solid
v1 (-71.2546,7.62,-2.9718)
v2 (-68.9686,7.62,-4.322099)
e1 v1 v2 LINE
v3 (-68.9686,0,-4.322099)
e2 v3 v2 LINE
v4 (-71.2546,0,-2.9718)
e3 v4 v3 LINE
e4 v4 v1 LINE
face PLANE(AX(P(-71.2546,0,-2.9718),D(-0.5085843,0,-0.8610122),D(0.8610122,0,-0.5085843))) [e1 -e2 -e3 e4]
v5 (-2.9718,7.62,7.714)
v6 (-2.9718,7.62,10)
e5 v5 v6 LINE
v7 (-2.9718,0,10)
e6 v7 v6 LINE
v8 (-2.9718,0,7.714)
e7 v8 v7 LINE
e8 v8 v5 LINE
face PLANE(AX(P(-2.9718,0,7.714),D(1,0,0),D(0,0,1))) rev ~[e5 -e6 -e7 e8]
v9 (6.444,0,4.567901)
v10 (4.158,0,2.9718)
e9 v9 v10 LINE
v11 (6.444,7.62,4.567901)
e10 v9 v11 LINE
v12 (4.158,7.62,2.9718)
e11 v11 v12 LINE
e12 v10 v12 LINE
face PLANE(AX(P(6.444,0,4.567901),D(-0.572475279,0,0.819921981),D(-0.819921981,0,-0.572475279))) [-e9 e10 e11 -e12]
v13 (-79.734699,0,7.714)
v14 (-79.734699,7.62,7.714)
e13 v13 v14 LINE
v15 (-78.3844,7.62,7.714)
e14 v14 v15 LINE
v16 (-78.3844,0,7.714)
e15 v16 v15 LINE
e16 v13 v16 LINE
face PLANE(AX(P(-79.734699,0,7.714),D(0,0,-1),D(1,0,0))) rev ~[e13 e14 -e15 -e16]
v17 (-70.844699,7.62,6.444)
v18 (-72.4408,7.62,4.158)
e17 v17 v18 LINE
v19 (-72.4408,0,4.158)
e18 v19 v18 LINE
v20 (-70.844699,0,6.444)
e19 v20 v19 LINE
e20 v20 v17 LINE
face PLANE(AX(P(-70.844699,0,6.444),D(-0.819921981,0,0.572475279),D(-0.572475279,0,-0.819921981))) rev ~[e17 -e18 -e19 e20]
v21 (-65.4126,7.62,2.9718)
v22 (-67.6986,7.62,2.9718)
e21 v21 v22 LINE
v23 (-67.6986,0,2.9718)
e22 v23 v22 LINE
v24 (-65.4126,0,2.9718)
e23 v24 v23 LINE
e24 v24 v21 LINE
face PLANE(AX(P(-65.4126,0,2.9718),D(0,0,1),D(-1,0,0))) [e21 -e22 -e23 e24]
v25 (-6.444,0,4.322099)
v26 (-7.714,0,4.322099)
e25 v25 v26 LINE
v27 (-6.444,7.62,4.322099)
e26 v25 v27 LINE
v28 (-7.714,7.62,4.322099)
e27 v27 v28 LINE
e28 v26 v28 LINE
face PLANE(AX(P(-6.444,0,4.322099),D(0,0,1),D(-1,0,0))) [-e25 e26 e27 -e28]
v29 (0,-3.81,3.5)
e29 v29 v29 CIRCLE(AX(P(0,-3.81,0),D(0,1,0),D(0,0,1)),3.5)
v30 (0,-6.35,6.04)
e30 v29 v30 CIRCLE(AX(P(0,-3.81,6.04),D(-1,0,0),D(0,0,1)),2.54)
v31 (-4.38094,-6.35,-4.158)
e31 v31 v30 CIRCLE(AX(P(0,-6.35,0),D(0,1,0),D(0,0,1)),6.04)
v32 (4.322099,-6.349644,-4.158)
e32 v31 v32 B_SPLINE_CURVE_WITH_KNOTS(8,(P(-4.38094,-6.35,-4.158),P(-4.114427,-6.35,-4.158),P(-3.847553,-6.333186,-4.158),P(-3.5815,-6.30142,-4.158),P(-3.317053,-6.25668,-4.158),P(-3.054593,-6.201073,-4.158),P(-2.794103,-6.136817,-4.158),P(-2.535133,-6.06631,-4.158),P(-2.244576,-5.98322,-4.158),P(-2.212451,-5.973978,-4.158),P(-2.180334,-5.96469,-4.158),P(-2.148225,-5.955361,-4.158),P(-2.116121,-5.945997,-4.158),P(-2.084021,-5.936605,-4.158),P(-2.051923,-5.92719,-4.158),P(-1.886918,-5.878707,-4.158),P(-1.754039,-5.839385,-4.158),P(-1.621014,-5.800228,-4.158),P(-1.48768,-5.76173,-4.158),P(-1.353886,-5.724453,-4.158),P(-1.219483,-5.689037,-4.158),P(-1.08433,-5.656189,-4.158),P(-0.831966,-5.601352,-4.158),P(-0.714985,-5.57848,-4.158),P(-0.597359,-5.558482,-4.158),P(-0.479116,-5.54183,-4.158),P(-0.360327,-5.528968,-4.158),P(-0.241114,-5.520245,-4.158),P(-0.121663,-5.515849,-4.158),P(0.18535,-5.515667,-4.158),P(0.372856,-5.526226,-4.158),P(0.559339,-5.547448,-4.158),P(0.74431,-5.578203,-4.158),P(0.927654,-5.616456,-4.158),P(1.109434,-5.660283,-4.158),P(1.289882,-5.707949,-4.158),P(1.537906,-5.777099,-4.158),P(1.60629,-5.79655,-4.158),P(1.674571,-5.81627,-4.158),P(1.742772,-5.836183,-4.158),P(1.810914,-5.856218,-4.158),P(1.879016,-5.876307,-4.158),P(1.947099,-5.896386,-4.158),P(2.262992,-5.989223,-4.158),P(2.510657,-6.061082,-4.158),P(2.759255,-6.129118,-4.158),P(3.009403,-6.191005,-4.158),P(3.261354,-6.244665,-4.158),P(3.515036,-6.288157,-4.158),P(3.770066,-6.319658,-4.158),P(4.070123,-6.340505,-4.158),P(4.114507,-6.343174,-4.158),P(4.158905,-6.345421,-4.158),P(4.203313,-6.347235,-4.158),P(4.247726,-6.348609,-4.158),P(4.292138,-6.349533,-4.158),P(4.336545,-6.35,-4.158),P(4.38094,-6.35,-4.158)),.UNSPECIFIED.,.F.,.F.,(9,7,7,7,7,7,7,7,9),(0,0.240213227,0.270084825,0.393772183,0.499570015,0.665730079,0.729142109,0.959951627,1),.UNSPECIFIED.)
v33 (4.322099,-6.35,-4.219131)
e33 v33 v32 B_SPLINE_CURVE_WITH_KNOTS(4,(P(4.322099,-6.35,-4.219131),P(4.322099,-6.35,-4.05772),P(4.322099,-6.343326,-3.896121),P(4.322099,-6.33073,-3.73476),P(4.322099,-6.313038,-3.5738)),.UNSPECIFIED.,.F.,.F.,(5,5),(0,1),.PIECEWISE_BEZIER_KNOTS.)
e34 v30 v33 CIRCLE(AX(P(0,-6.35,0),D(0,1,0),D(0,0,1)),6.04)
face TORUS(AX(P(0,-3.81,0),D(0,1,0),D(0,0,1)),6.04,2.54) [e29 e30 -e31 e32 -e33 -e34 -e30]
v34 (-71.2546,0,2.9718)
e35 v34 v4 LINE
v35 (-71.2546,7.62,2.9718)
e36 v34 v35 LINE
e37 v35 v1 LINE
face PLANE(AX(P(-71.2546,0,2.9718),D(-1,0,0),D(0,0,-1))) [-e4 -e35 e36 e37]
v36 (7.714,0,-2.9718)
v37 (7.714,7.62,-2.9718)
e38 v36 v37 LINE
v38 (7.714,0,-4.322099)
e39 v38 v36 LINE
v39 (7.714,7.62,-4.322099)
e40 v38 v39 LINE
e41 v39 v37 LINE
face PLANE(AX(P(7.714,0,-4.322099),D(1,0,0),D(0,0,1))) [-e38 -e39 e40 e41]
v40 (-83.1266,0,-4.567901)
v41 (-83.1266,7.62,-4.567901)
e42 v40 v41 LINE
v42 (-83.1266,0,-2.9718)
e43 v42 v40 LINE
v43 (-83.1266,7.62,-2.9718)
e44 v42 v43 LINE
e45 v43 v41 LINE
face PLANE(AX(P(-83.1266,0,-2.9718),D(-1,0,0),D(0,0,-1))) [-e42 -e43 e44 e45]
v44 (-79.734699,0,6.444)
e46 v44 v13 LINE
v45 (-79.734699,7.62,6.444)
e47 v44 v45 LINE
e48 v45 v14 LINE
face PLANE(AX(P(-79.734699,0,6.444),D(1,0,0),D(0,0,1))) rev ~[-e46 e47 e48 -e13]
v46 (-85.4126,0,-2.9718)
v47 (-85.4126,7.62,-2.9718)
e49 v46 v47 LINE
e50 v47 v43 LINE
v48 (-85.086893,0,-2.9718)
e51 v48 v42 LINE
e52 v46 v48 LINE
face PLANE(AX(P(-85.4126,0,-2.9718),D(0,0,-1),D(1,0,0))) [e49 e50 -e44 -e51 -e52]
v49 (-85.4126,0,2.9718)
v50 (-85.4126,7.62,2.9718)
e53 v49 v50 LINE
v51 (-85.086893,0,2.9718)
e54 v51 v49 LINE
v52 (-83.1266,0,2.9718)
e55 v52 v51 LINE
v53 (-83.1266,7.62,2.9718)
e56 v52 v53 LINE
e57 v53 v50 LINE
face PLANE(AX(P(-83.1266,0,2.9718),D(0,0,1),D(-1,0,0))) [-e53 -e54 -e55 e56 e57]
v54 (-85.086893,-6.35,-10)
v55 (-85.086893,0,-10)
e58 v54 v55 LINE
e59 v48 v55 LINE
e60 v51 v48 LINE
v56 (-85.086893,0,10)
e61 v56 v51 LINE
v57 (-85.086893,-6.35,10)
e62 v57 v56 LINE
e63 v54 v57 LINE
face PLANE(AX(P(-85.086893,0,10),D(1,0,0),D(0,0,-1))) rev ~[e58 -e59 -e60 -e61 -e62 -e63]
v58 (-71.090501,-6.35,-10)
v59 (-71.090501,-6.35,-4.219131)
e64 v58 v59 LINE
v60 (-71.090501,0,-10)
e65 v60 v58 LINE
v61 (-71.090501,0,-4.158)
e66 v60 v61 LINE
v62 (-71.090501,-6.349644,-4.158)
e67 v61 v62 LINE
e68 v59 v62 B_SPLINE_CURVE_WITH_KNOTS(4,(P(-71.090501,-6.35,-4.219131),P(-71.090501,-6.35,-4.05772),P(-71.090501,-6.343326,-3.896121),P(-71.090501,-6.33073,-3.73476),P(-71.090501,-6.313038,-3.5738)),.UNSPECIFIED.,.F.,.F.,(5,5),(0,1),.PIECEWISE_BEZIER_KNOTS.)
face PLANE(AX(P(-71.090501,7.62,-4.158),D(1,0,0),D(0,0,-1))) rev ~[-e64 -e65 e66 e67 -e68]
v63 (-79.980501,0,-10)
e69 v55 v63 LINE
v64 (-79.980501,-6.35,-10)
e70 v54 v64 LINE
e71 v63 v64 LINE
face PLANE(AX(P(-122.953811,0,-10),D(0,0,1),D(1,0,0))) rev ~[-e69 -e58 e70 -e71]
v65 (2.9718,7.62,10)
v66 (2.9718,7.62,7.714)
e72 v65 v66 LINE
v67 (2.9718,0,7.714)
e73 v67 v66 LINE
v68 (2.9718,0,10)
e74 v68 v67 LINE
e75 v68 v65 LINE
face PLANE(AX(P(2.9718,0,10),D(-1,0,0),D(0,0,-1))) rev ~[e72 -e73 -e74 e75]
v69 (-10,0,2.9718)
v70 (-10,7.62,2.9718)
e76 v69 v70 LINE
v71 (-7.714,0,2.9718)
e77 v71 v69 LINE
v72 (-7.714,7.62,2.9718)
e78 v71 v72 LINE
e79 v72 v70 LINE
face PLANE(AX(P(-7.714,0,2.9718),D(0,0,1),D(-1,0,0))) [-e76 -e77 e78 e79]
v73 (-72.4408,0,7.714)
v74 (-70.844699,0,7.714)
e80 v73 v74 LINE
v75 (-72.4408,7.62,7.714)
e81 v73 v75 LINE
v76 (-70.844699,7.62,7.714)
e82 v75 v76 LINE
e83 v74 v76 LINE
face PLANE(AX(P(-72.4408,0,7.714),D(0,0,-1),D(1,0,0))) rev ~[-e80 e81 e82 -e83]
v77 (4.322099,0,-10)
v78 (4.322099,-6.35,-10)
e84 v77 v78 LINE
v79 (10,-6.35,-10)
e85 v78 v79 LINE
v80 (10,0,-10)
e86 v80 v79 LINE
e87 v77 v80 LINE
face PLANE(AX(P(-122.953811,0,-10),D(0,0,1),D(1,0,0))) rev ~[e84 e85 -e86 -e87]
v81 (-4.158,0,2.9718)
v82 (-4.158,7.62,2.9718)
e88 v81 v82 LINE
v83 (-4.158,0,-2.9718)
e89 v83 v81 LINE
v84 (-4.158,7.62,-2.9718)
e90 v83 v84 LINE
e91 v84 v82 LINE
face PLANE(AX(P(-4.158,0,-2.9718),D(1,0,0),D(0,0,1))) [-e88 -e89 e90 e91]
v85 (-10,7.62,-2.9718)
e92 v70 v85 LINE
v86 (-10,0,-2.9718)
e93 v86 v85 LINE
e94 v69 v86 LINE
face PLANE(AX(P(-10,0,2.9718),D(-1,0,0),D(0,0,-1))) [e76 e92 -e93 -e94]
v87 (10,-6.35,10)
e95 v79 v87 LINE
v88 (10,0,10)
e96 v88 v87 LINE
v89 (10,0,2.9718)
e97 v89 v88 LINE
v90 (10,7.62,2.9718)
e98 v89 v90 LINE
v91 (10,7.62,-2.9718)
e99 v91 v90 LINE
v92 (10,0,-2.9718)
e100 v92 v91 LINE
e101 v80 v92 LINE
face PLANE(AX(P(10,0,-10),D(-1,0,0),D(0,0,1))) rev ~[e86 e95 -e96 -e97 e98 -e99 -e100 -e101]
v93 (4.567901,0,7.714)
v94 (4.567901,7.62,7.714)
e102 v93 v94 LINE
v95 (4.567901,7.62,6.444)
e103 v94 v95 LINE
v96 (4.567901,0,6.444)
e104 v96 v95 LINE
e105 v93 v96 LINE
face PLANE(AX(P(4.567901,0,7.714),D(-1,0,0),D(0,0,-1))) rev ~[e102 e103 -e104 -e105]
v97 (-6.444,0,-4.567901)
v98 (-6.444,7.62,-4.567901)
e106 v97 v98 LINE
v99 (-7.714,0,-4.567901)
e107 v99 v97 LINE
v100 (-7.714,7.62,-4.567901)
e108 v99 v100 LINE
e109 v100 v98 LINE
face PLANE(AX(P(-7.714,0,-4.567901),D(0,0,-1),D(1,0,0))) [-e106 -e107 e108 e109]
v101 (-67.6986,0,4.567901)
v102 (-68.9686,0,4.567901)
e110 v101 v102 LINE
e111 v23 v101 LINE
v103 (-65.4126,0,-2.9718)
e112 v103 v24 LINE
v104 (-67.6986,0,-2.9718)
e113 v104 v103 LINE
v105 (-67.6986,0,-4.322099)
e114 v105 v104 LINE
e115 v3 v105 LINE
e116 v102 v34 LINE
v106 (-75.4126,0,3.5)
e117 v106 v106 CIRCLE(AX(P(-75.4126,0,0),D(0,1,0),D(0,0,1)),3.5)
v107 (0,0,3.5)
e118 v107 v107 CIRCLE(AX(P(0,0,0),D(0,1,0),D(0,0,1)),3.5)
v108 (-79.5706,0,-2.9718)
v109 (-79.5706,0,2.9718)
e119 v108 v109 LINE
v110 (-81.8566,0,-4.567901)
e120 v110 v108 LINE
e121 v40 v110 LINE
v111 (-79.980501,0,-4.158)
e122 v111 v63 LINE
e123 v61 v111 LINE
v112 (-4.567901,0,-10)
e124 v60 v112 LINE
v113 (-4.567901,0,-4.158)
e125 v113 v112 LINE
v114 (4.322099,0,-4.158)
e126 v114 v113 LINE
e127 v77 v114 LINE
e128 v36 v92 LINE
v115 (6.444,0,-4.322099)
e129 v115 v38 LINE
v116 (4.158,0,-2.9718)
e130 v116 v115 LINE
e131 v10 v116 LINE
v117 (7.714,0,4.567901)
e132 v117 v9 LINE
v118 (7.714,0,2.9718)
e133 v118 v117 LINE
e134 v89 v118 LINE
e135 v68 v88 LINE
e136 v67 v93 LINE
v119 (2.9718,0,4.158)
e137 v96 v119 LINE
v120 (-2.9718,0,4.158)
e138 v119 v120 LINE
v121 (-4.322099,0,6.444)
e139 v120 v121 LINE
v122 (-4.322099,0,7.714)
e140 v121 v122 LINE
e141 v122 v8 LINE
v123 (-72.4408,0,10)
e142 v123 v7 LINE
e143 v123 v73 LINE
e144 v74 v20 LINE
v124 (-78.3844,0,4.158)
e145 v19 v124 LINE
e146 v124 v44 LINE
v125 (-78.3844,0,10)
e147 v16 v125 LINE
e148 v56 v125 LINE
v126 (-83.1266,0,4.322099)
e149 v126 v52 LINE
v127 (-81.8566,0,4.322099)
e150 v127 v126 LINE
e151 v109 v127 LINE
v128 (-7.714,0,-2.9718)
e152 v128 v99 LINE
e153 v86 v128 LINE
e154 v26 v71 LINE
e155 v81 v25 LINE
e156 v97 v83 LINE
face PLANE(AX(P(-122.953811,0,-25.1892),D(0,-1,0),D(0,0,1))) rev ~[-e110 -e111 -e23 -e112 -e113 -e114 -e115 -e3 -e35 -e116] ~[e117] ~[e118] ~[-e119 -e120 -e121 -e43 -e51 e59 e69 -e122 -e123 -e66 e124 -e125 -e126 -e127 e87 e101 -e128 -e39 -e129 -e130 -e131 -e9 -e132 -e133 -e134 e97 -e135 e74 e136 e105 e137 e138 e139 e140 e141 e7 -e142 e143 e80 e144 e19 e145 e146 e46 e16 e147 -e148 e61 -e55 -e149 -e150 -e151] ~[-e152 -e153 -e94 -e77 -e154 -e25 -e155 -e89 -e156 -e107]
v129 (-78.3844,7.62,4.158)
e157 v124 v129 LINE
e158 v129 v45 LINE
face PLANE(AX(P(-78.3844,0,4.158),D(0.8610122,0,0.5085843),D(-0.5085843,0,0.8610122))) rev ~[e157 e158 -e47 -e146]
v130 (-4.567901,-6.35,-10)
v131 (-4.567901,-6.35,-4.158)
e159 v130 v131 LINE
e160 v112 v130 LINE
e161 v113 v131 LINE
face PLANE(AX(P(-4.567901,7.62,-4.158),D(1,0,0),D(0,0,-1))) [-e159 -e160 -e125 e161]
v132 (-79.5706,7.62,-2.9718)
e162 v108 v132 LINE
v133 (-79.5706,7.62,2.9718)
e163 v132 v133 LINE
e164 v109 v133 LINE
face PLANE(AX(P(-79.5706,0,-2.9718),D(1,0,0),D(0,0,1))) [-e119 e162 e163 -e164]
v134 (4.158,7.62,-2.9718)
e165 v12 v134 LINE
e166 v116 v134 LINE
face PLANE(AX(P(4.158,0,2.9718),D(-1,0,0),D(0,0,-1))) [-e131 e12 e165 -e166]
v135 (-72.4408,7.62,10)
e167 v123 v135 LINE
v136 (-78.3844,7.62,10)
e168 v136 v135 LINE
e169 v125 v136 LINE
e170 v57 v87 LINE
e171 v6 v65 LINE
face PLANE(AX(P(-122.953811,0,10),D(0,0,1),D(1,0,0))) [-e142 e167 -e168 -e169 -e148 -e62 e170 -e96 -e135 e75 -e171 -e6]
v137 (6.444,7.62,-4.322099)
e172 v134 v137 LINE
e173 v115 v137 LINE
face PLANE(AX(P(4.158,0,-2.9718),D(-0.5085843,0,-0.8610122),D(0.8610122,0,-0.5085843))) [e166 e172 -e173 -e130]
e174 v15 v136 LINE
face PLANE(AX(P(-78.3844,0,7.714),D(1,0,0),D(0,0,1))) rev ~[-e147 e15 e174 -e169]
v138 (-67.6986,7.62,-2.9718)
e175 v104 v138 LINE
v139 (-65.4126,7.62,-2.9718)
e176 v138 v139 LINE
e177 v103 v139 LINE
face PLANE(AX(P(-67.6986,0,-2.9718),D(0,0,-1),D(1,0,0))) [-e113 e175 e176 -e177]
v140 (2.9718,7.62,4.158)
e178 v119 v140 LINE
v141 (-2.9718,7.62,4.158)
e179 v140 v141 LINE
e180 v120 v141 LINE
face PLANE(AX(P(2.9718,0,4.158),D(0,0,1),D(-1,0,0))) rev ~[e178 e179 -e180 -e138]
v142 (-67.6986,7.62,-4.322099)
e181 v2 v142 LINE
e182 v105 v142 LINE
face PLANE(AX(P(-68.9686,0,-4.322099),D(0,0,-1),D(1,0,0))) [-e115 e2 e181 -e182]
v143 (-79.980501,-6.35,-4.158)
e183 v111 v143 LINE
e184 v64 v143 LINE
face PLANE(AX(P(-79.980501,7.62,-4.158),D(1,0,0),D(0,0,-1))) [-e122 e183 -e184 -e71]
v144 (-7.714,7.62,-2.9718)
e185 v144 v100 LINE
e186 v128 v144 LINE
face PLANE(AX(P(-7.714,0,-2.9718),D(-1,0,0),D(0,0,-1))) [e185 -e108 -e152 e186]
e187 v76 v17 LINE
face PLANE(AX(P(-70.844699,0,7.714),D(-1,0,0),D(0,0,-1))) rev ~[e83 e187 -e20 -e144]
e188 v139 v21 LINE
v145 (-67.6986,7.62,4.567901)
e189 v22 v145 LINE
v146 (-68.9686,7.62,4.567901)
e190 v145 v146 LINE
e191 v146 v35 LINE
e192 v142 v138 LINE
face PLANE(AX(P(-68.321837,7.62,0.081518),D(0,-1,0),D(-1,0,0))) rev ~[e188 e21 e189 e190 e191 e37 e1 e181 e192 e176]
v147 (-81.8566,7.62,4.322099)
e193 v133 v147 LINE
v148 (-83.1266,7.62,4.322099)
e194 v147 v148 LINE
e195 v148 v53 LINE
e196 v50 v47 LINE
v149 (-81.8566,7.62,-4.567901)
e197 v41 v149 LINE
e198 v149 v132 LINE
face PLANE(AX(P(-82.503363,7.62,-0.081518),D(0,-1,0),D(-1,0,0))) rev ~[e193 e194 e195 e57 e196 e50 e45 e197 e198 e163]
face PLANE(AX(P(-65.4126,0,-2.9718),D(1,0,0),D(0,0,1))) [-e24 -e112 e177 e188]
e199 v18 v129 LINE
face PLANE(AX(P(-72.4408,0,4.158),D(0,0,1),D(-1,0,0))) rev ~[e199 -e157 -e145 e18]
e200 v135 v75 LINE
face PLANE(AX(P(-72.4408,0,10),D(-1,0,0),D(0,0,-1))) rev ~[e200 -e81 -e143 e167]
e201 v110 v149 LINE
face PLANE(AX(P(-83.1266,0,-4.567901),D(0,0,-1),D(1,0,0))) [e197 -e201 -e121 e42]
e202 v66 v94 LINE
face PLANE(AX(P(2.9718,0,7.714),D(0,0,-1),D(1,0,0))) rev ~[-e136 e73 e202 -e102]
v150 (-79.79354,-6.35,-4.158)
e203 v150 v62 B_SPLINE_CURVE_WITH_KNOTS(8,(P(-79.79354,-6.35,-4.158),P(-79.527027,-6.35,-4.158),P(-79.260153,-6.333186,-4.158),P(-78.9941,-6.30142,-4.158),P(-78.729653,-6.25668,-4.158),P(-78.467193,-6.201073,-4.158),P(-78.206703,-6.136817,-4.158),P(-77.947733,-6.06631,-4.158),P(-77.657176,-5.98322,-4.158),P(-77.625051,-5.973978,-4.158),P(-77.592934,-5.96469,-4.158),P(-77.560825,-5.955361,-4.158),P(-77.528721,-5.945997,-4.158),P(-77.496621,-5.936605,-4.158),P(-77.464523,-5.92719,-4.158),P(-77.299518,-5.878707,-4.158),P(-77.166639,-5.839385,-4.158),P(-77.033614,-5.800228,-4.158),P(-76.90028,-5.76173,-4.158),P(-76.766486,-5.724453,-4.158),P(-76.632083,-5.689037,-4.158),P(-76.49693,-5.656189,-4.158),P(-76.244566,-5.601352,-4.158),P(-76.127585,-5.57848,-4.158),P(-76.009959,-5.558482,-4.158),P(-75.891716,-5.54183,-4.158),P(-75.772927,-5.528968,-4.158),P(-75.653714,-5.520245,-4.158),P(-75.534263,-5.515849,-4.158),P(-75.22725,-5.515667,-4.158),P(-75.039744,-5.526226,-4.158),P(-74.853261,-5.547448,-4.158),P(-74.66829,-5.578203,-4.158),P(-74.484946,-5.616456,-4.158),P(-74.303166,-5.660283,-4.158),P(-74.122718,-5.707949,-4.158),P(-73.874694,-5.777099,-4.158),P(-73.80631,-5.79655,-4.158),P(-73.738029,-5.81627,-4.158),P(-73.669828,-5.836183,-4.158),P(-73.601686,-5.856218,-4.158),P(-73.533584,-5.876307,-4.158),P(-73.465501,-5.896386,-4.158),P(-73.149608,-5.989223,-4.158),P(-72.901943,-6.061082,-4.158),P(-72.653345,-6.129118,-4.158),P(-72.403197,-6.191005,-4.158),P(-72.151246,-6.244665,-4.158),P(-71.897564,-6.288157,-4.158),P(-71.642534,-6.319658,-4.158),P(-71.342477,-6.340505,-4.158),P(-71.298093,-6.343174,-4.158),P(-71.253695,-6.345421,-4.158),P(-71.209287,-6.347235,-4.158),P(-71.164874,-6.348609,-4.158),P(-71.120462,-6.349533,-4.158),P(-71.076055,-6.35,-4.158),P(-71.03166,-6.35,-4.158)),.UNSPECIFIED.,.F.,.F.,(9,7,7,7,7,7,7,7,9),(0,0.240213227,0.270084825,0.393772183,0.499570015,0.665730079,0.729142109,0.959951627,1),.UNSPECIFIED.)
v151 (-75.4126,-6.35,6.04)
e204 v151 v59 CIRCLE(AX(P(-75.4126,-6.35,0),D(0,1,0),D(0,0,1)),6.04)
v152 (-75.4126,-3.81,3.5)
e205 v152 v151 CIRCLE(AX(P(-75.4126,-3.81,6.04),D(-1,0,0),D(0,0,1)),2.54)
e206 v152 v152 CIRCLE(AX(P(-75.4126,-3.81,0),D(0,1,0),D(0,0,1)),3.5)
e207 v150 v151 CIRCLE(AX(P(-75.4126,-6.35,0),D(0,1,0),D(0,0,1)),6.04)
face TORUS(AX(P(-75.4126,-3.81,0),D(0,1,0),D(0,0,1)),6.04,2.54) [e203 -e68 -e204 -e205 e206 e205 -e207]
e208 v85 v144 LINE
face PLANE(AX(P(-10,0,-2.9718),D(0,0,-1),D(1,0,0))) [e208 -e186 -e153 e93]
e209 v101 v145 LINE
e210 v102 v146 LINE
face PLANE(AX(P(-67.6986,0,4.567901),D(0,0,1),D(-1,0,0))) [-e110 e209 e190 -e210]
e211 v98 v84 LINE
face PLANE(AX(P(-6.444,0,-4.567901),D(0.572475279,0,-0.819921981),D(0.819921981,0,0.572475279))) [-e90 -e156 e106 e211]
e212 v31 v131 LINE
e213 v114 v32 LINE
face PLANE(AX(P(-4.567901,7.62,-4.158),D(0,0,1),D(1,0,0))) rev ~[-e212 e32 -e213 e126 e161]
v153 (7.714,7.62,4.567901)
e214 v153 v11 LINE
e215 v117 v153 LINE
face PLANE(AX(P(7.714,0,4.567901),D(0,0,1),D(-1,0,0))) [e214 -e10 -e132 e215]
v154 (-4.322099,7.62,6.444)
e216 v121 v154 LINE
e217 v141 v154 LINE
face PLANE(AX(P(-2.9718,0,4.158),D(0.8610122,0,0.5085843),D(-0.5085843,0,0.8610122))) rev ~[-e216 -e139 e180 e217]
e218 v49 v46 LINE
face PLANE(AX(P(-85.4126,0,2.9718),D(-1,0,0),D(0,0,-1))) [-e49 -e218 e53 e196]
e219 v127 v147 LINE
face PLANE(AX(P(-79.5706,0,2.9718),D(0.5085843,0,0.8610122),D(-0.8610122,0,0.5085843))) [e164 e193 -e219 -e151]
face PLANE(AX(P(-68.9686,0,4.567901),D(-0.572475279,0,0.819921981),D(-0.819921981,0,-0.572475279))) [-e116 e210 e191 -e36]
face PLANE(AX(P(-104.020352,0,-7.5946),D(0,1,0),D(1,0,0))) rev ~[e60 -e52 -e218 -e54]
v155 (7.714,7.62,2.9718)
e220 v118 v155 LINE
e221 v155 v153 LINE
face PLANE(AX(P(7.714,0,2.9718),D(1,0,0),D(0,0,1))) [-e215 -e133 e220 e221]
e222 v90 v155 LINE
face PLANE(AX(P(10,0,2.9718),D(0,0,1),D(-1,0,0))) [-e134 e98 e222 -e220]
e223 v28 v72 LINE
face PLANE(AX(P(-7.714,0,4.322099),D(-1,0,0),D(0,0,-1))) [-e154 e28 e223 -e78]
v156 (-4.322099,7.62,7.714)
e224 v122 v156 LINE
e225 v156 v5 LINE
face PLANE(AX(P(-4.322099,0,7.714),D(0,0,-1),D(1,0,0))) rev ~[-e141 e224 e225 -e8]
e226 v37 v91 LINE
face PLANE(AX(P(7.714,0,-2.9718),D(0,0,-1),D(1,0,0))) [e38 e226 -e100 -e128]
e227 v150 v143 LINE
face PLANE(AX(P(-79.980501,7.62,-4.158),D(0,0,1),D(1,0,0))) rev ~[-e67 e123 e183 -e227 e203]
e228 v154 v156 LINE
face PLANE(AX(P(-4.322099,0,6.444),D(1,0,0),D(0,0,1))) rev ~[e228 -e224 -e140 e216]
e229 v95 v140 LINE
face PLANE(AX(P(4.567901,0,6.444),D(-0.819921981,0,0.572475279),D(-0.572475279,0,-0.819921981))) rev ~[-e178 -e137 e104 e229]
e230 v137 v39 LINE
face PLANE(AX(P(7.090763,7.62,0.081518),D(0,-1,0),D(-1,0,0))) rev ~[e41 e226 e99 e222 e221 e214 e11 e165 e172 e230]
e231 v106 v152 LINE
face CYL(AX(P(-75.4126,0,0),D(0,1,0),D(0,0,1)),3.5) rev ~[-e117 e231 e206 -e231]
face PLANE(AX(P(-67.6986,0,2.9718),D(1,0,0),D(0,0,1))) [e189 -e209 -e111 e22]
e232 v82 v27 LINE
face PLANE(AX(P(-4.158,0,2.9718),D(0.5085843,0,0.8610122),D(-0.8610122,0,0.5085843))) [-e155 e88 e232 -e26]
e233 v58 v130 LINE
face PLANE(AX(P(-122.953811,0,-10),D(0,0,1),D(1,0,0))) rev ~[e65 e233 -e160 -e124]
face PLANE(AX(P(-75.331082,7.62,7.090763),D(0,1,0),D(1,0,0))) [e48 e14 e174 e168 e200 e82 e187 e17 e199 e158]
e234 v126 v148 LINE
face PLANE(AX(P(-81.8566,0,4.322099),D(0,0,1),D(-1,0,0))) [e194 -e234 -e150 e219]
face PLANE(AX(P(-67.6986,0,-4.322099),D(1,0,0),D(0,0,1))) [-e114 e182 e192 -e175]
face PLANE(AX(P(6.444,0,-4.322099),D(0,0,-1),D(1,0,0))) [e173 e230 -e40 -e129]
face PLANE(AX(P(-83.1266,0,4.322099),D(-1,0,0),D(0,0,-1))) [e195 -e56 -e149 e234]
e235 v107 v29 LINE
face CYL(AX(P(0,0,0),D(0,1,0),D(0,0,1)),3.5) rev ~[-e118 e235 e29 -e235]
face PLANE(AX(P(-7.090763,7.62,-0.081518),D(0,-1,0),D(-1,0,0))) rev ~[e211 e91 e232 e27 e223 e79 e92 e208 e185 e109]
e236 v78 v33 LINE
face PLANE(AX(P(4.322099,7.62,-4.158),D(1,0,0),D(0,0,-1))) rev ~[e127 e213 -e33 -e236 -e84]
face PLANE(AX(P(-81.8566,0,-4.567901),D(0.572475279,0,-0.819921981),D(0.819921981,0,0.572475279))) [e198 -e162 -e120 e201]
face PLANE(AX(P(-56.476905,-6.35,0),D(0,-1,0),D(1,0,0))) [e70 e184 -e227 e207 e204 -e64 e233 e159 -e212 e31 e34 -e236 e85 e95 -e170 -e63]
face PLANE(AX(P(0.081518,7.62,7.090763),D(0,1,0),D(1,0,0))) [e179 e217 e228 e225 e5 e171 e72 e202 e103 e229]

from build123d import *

# Parameters (mm, degrees)
BOSS_EXTRUDE1_DEPTH   = 7.62
BOSS_EXTRUDE1_2_DEPTH = 7.62
BOSS_EXTRUDE1_3_DEPTH = 7.62
BOSS_EXTRUDE1_4_DEPTH = 7.62
SKETCH2_W             = 132.9538108
SKETCH2_H             = 20
BOSS_EXTRUDE2_DEPTH   = 6.35
LPATTERN2_COUNT       = 2
LPATTERN2_PITCH       = 75.4126
CUT_EXTRUDE1_DEPTH    = 125.148300392
FILLET1_R             = 2.54
SKETCH13_R            = 3.5
CUT_EXTRUDE5_DEPTH    = 124.59491895
FILLET6_R             = 2.54
SKETCH14_W            = 8.89
SKETCH14_H            = 5.842
CUT_EXTRUDE6_DEPTH    = 125.148300392
SKETCH15_W            = 25.4
SKETCH15_H            = 40.894
BOSS_EXTRUDE3_DEPTH   = 12.7
FILLET15_R            = 10.16
FILLET16_R            = 10.16
FILLET17_R            = 10.16
FILLET18_R            = 10.16
SKETCH18_R            = 1.984375
CUT_EXTRUDE9_DEPTH    = 12.7
SKETCH19_W            = 37.866917971
SKETCH19_H            = 35.1892
CUT_EXTRUDE10_DEPTH   = 133.001722138


with BuildPart() as part:
    # Sketch1 → Boss-Extrude1 (new body)
    with BuildSketch(Plane(origin=(0, 0, 0), x_dir=(1, 0, 0), z_dir=(0, 1, 0))):
        Polygon((2.9718, 10), (-2.9718, 10), (-2.9718, 7.714), (-4.567901235, 7.714), (-4.567901235, 6.444), (-2.9718, 4.158), (2.9718, 4.158), (4.322098765, 6.444), (4.322098765, 7.714), (2.9718, 7.714), align=None)
    boss_extrude1 = extrude(amount=BOSS_EXTRUDE1_DEPTH)



with BuildPart() as body_2:
    # Sketch1 → Boss-Extrude1 2 (new body)
    with BuildSketch(Plane(origin=(0, 0, 0), x_dir=(1, 0, 0), z_dir=(0, 1, 0))):
        Polygon((4.158, -2.9718), (4.158, 2.9718), (6.444, 4.322098765), (7.714, 4.322098765), (7.714, 2.9718), (10, 2.9718), (10, -2.9718), (7.714, -2.9718), (7.714, -4.567901235), (6.444, -4.567901235), align=None)
    boss_extrude1_2 = extrude(amount=BOSS_EXTRUDE1_2_DEPTH)


with BuildPart() as body_3:
    # Sketch1 → Boss-Extrude1 3 (new body)
    with BuildSketch(Plane(origin=(0, 0, 0), x_dir=(1, 0, 0), z_dir=(0, 1, 0))):
        Polygon((-10, -2.9718), (-10, 2.9718), (-7.714, 2.9718), (-7.714, 4.567901235), (-6.444, 4.567901235), (-4.158, 2.9718), (-4.158, -2.9718), (-6.444, -4.322098765), (-7.714, -4.322098765), (-7.714, -2.9718), align=None)
    boss_extrude1_3 = extrude(amount=BOSS_EXTRUDE1_3_DEPTH)


with BuildPart() as body_4:
    # Sketch1 → Boss-Extrude1 4 (new body)
    with BuildSketch(Plane(origin=(0, 0, 0), x_dir=(1, 0, 0), z_dir=(0, 1, 0))):
        Polygon((4.567901235, -6.444), (2.9718, -4.158), (-2.9718, -4.158), (-4.322098765, -6.444), (-4.322098765, -7.714), (-2.9718, -7.714), (-2.9718, -10), (2.9718, -10), (2.9718, -7.714), (4.567901235, -7.714), align=None)
    boss_extrude1_4 = extrude(amount=BOSS_EXTRUDE1_4_DEPTH)


with BuildPart() as part_1:
    add(part.part)

    add(body_2.part)  # Boss-Extrude2 merges body 2

    add(body_3.part)  # Boss-Extrude2 merges body 3

    add(body_4.part)  # Boss-Extrude2 merges body 4
    # Sketch2 → Boss-Extrude2 (add)
    with BuildSketch(Plane.XZ):
        with Locations((-56.4769054, 0)):
            Rectangle(SKETCH2_W, SKETCH2_H)
    extrude(amount=BOSS_EXTRUDE2_DEPTH)

    # LPattern2: Boss-Extrude1, Boss-Extrude1 2, Boss-Extrude1 3, Boss-Extrude1 4 ×2
    with Locations(*[(-i * LPATTERN2_PITCH, 0, 0) for i in range(1, LPATTERN2_COUNT)]):
        add(boss_extrude1)
        add(boss_extrude1_2)
        add(boss_extrude1_3)
        add(boss_extrude1_4)

    # Sketch4 → Cut-Extrude1 (cut, through all)
    with BuildSketch(Plane(origin=(0, -6.35, 0), x_dir=(-1, 0, 0), z_dir=(0, -1, 0))):
        Polygon((122.9538108, -10), (85.4126108, -10), (122.9538108, -0.2108), align=None)
    extrude(amount=-CUT_EXTRUDE1_DEPTH, mode=Mode.SUBTRACT)

    # Fillet1
    fillet1_edges = [part_1.edges().sort_by_distance(p)[0] for p in [
        (-85.4126108, -3.175, 10),
    ]]
    fillet(fillet1_edges, radius=FILLET1_R)

    # Sketch13 → Cut-Extrude5 (cut, through all)
    with BuildSketch(Plane(origin=(0, 0, 0), x_dir=(1, 0, 0), z_dir=(0, 1, 0))):
        with Locations(Location((0, 0, 0), (0, 0, 270))):
            Circle(SKETCH13_R)
        with Locations(Location((-75.4126, 0, 0), (0, 0, 270))):
            Circle(SKETCH13_R)
    extrude(amount=-CUT_EXTRUDE5_DEPTH, mode=Mode.SUBTRACT)

    # Fillet6
    fillet6_edges = [part_1.edges().sort_by_distance(p)[0] for p in [
        (0, -6.35, -3.5),
        (-75.4126, -6.35, -3.5),
    ]]
    fillet(fillet6_edges, radius=FILLET6_R)

    # Sketch14 → Cut-Extrude6 (cut, through all)
    with BuildSketch(Plane(origin=(0, 7.62, 0), x_dir=(1, 0, 0), z_dir=(0, 1, 0))):
        with Locations((-0.122901235, 7.079)):
            Rectangle(SKETCH14_W, SKETCH14_H)
        with Locations((-75.535501235, 7.079)):
            Rectangle(SKETCH14_W, SKETCH14_H)
    extrude(amount=-CUT_EXTRUDE6_DEPTH, mode=Mode.SUBTRACT)

    # Sketch15 → Boss-Extrude3 (add)
    with BuildSketch(Plane.ZY.offset(122.9538108)):
        with Locations((-12.4892, -20.447)):
            Rectangle(SKETCH15_W, SKETCH15_H)
    extrude(amount=-BOSS_EXTRUDE3_DEPTH)

    # Fillet15
    fillet15_edges = [part_1.edges().sort_by_distance(p)[0] for p in [
        (-110.2538108, -6.35, -4.8946),
    ]]
    fillet(fillet15_edges, radius=FILLET15_R)

    # Fillet16
    fillet16_edges = [part_1.edges().sort_by_distance(p)[0] for p in [
        (-110.2538108, -8.255, -10),
    ]]
    fillet(fillet16_edges, radius=FILLET16_R)

    # Fillet17
    fillet17_edges = [part_1.edges().sort_by_distance(p)[0] for p in [
        (-110.2538108, -40.894, -12.4892),
    ]]
    fillet(fillet17_edges, radius=FILLET17_R)

    # Fillet18
    fillet18_edges = [part_1.edges().sort_by_distance(p)[0] for p in [
        (-107.278015697, -9.325795103, 0.2108),
        (-121.6838108, -40.894, 0.2108),
        (-110.2538108, -23.622, 0.2108),
        (-113.229605903, -37.918204897, 0.2108),
    ]]
    fillet(fillet18_edges, radius=FILLET18_R)

    # Sketch18 → Cut-Extrude9 (cut)
    with BuildSketch(Plane.ZY.offset(122.9538108)):
        with Locations((-12.4892, -28.194)):
            Circle(SKETCH18_R)
    extrude(amount=-CUT_EXTRUDE9_DEPTH, mode=Mode.SUBTRACT)

    # Sketch19 → Cut-Extrude10 (cut, through all)
    with BuildSketch(Plane(origin=(0, 0, 0), x_dir=(1, 0, 0), z_dir=(0, 1, 0))):
        with Locations((-104.020351815, 7.5946)):
            Rectangle(SKETCH19_W, SKETCH19_H)
    extrude(amount=-CUT_EXTRUDE10_DEPTH, mode=Mode.SUBTRACT)


solid = part_1.part
